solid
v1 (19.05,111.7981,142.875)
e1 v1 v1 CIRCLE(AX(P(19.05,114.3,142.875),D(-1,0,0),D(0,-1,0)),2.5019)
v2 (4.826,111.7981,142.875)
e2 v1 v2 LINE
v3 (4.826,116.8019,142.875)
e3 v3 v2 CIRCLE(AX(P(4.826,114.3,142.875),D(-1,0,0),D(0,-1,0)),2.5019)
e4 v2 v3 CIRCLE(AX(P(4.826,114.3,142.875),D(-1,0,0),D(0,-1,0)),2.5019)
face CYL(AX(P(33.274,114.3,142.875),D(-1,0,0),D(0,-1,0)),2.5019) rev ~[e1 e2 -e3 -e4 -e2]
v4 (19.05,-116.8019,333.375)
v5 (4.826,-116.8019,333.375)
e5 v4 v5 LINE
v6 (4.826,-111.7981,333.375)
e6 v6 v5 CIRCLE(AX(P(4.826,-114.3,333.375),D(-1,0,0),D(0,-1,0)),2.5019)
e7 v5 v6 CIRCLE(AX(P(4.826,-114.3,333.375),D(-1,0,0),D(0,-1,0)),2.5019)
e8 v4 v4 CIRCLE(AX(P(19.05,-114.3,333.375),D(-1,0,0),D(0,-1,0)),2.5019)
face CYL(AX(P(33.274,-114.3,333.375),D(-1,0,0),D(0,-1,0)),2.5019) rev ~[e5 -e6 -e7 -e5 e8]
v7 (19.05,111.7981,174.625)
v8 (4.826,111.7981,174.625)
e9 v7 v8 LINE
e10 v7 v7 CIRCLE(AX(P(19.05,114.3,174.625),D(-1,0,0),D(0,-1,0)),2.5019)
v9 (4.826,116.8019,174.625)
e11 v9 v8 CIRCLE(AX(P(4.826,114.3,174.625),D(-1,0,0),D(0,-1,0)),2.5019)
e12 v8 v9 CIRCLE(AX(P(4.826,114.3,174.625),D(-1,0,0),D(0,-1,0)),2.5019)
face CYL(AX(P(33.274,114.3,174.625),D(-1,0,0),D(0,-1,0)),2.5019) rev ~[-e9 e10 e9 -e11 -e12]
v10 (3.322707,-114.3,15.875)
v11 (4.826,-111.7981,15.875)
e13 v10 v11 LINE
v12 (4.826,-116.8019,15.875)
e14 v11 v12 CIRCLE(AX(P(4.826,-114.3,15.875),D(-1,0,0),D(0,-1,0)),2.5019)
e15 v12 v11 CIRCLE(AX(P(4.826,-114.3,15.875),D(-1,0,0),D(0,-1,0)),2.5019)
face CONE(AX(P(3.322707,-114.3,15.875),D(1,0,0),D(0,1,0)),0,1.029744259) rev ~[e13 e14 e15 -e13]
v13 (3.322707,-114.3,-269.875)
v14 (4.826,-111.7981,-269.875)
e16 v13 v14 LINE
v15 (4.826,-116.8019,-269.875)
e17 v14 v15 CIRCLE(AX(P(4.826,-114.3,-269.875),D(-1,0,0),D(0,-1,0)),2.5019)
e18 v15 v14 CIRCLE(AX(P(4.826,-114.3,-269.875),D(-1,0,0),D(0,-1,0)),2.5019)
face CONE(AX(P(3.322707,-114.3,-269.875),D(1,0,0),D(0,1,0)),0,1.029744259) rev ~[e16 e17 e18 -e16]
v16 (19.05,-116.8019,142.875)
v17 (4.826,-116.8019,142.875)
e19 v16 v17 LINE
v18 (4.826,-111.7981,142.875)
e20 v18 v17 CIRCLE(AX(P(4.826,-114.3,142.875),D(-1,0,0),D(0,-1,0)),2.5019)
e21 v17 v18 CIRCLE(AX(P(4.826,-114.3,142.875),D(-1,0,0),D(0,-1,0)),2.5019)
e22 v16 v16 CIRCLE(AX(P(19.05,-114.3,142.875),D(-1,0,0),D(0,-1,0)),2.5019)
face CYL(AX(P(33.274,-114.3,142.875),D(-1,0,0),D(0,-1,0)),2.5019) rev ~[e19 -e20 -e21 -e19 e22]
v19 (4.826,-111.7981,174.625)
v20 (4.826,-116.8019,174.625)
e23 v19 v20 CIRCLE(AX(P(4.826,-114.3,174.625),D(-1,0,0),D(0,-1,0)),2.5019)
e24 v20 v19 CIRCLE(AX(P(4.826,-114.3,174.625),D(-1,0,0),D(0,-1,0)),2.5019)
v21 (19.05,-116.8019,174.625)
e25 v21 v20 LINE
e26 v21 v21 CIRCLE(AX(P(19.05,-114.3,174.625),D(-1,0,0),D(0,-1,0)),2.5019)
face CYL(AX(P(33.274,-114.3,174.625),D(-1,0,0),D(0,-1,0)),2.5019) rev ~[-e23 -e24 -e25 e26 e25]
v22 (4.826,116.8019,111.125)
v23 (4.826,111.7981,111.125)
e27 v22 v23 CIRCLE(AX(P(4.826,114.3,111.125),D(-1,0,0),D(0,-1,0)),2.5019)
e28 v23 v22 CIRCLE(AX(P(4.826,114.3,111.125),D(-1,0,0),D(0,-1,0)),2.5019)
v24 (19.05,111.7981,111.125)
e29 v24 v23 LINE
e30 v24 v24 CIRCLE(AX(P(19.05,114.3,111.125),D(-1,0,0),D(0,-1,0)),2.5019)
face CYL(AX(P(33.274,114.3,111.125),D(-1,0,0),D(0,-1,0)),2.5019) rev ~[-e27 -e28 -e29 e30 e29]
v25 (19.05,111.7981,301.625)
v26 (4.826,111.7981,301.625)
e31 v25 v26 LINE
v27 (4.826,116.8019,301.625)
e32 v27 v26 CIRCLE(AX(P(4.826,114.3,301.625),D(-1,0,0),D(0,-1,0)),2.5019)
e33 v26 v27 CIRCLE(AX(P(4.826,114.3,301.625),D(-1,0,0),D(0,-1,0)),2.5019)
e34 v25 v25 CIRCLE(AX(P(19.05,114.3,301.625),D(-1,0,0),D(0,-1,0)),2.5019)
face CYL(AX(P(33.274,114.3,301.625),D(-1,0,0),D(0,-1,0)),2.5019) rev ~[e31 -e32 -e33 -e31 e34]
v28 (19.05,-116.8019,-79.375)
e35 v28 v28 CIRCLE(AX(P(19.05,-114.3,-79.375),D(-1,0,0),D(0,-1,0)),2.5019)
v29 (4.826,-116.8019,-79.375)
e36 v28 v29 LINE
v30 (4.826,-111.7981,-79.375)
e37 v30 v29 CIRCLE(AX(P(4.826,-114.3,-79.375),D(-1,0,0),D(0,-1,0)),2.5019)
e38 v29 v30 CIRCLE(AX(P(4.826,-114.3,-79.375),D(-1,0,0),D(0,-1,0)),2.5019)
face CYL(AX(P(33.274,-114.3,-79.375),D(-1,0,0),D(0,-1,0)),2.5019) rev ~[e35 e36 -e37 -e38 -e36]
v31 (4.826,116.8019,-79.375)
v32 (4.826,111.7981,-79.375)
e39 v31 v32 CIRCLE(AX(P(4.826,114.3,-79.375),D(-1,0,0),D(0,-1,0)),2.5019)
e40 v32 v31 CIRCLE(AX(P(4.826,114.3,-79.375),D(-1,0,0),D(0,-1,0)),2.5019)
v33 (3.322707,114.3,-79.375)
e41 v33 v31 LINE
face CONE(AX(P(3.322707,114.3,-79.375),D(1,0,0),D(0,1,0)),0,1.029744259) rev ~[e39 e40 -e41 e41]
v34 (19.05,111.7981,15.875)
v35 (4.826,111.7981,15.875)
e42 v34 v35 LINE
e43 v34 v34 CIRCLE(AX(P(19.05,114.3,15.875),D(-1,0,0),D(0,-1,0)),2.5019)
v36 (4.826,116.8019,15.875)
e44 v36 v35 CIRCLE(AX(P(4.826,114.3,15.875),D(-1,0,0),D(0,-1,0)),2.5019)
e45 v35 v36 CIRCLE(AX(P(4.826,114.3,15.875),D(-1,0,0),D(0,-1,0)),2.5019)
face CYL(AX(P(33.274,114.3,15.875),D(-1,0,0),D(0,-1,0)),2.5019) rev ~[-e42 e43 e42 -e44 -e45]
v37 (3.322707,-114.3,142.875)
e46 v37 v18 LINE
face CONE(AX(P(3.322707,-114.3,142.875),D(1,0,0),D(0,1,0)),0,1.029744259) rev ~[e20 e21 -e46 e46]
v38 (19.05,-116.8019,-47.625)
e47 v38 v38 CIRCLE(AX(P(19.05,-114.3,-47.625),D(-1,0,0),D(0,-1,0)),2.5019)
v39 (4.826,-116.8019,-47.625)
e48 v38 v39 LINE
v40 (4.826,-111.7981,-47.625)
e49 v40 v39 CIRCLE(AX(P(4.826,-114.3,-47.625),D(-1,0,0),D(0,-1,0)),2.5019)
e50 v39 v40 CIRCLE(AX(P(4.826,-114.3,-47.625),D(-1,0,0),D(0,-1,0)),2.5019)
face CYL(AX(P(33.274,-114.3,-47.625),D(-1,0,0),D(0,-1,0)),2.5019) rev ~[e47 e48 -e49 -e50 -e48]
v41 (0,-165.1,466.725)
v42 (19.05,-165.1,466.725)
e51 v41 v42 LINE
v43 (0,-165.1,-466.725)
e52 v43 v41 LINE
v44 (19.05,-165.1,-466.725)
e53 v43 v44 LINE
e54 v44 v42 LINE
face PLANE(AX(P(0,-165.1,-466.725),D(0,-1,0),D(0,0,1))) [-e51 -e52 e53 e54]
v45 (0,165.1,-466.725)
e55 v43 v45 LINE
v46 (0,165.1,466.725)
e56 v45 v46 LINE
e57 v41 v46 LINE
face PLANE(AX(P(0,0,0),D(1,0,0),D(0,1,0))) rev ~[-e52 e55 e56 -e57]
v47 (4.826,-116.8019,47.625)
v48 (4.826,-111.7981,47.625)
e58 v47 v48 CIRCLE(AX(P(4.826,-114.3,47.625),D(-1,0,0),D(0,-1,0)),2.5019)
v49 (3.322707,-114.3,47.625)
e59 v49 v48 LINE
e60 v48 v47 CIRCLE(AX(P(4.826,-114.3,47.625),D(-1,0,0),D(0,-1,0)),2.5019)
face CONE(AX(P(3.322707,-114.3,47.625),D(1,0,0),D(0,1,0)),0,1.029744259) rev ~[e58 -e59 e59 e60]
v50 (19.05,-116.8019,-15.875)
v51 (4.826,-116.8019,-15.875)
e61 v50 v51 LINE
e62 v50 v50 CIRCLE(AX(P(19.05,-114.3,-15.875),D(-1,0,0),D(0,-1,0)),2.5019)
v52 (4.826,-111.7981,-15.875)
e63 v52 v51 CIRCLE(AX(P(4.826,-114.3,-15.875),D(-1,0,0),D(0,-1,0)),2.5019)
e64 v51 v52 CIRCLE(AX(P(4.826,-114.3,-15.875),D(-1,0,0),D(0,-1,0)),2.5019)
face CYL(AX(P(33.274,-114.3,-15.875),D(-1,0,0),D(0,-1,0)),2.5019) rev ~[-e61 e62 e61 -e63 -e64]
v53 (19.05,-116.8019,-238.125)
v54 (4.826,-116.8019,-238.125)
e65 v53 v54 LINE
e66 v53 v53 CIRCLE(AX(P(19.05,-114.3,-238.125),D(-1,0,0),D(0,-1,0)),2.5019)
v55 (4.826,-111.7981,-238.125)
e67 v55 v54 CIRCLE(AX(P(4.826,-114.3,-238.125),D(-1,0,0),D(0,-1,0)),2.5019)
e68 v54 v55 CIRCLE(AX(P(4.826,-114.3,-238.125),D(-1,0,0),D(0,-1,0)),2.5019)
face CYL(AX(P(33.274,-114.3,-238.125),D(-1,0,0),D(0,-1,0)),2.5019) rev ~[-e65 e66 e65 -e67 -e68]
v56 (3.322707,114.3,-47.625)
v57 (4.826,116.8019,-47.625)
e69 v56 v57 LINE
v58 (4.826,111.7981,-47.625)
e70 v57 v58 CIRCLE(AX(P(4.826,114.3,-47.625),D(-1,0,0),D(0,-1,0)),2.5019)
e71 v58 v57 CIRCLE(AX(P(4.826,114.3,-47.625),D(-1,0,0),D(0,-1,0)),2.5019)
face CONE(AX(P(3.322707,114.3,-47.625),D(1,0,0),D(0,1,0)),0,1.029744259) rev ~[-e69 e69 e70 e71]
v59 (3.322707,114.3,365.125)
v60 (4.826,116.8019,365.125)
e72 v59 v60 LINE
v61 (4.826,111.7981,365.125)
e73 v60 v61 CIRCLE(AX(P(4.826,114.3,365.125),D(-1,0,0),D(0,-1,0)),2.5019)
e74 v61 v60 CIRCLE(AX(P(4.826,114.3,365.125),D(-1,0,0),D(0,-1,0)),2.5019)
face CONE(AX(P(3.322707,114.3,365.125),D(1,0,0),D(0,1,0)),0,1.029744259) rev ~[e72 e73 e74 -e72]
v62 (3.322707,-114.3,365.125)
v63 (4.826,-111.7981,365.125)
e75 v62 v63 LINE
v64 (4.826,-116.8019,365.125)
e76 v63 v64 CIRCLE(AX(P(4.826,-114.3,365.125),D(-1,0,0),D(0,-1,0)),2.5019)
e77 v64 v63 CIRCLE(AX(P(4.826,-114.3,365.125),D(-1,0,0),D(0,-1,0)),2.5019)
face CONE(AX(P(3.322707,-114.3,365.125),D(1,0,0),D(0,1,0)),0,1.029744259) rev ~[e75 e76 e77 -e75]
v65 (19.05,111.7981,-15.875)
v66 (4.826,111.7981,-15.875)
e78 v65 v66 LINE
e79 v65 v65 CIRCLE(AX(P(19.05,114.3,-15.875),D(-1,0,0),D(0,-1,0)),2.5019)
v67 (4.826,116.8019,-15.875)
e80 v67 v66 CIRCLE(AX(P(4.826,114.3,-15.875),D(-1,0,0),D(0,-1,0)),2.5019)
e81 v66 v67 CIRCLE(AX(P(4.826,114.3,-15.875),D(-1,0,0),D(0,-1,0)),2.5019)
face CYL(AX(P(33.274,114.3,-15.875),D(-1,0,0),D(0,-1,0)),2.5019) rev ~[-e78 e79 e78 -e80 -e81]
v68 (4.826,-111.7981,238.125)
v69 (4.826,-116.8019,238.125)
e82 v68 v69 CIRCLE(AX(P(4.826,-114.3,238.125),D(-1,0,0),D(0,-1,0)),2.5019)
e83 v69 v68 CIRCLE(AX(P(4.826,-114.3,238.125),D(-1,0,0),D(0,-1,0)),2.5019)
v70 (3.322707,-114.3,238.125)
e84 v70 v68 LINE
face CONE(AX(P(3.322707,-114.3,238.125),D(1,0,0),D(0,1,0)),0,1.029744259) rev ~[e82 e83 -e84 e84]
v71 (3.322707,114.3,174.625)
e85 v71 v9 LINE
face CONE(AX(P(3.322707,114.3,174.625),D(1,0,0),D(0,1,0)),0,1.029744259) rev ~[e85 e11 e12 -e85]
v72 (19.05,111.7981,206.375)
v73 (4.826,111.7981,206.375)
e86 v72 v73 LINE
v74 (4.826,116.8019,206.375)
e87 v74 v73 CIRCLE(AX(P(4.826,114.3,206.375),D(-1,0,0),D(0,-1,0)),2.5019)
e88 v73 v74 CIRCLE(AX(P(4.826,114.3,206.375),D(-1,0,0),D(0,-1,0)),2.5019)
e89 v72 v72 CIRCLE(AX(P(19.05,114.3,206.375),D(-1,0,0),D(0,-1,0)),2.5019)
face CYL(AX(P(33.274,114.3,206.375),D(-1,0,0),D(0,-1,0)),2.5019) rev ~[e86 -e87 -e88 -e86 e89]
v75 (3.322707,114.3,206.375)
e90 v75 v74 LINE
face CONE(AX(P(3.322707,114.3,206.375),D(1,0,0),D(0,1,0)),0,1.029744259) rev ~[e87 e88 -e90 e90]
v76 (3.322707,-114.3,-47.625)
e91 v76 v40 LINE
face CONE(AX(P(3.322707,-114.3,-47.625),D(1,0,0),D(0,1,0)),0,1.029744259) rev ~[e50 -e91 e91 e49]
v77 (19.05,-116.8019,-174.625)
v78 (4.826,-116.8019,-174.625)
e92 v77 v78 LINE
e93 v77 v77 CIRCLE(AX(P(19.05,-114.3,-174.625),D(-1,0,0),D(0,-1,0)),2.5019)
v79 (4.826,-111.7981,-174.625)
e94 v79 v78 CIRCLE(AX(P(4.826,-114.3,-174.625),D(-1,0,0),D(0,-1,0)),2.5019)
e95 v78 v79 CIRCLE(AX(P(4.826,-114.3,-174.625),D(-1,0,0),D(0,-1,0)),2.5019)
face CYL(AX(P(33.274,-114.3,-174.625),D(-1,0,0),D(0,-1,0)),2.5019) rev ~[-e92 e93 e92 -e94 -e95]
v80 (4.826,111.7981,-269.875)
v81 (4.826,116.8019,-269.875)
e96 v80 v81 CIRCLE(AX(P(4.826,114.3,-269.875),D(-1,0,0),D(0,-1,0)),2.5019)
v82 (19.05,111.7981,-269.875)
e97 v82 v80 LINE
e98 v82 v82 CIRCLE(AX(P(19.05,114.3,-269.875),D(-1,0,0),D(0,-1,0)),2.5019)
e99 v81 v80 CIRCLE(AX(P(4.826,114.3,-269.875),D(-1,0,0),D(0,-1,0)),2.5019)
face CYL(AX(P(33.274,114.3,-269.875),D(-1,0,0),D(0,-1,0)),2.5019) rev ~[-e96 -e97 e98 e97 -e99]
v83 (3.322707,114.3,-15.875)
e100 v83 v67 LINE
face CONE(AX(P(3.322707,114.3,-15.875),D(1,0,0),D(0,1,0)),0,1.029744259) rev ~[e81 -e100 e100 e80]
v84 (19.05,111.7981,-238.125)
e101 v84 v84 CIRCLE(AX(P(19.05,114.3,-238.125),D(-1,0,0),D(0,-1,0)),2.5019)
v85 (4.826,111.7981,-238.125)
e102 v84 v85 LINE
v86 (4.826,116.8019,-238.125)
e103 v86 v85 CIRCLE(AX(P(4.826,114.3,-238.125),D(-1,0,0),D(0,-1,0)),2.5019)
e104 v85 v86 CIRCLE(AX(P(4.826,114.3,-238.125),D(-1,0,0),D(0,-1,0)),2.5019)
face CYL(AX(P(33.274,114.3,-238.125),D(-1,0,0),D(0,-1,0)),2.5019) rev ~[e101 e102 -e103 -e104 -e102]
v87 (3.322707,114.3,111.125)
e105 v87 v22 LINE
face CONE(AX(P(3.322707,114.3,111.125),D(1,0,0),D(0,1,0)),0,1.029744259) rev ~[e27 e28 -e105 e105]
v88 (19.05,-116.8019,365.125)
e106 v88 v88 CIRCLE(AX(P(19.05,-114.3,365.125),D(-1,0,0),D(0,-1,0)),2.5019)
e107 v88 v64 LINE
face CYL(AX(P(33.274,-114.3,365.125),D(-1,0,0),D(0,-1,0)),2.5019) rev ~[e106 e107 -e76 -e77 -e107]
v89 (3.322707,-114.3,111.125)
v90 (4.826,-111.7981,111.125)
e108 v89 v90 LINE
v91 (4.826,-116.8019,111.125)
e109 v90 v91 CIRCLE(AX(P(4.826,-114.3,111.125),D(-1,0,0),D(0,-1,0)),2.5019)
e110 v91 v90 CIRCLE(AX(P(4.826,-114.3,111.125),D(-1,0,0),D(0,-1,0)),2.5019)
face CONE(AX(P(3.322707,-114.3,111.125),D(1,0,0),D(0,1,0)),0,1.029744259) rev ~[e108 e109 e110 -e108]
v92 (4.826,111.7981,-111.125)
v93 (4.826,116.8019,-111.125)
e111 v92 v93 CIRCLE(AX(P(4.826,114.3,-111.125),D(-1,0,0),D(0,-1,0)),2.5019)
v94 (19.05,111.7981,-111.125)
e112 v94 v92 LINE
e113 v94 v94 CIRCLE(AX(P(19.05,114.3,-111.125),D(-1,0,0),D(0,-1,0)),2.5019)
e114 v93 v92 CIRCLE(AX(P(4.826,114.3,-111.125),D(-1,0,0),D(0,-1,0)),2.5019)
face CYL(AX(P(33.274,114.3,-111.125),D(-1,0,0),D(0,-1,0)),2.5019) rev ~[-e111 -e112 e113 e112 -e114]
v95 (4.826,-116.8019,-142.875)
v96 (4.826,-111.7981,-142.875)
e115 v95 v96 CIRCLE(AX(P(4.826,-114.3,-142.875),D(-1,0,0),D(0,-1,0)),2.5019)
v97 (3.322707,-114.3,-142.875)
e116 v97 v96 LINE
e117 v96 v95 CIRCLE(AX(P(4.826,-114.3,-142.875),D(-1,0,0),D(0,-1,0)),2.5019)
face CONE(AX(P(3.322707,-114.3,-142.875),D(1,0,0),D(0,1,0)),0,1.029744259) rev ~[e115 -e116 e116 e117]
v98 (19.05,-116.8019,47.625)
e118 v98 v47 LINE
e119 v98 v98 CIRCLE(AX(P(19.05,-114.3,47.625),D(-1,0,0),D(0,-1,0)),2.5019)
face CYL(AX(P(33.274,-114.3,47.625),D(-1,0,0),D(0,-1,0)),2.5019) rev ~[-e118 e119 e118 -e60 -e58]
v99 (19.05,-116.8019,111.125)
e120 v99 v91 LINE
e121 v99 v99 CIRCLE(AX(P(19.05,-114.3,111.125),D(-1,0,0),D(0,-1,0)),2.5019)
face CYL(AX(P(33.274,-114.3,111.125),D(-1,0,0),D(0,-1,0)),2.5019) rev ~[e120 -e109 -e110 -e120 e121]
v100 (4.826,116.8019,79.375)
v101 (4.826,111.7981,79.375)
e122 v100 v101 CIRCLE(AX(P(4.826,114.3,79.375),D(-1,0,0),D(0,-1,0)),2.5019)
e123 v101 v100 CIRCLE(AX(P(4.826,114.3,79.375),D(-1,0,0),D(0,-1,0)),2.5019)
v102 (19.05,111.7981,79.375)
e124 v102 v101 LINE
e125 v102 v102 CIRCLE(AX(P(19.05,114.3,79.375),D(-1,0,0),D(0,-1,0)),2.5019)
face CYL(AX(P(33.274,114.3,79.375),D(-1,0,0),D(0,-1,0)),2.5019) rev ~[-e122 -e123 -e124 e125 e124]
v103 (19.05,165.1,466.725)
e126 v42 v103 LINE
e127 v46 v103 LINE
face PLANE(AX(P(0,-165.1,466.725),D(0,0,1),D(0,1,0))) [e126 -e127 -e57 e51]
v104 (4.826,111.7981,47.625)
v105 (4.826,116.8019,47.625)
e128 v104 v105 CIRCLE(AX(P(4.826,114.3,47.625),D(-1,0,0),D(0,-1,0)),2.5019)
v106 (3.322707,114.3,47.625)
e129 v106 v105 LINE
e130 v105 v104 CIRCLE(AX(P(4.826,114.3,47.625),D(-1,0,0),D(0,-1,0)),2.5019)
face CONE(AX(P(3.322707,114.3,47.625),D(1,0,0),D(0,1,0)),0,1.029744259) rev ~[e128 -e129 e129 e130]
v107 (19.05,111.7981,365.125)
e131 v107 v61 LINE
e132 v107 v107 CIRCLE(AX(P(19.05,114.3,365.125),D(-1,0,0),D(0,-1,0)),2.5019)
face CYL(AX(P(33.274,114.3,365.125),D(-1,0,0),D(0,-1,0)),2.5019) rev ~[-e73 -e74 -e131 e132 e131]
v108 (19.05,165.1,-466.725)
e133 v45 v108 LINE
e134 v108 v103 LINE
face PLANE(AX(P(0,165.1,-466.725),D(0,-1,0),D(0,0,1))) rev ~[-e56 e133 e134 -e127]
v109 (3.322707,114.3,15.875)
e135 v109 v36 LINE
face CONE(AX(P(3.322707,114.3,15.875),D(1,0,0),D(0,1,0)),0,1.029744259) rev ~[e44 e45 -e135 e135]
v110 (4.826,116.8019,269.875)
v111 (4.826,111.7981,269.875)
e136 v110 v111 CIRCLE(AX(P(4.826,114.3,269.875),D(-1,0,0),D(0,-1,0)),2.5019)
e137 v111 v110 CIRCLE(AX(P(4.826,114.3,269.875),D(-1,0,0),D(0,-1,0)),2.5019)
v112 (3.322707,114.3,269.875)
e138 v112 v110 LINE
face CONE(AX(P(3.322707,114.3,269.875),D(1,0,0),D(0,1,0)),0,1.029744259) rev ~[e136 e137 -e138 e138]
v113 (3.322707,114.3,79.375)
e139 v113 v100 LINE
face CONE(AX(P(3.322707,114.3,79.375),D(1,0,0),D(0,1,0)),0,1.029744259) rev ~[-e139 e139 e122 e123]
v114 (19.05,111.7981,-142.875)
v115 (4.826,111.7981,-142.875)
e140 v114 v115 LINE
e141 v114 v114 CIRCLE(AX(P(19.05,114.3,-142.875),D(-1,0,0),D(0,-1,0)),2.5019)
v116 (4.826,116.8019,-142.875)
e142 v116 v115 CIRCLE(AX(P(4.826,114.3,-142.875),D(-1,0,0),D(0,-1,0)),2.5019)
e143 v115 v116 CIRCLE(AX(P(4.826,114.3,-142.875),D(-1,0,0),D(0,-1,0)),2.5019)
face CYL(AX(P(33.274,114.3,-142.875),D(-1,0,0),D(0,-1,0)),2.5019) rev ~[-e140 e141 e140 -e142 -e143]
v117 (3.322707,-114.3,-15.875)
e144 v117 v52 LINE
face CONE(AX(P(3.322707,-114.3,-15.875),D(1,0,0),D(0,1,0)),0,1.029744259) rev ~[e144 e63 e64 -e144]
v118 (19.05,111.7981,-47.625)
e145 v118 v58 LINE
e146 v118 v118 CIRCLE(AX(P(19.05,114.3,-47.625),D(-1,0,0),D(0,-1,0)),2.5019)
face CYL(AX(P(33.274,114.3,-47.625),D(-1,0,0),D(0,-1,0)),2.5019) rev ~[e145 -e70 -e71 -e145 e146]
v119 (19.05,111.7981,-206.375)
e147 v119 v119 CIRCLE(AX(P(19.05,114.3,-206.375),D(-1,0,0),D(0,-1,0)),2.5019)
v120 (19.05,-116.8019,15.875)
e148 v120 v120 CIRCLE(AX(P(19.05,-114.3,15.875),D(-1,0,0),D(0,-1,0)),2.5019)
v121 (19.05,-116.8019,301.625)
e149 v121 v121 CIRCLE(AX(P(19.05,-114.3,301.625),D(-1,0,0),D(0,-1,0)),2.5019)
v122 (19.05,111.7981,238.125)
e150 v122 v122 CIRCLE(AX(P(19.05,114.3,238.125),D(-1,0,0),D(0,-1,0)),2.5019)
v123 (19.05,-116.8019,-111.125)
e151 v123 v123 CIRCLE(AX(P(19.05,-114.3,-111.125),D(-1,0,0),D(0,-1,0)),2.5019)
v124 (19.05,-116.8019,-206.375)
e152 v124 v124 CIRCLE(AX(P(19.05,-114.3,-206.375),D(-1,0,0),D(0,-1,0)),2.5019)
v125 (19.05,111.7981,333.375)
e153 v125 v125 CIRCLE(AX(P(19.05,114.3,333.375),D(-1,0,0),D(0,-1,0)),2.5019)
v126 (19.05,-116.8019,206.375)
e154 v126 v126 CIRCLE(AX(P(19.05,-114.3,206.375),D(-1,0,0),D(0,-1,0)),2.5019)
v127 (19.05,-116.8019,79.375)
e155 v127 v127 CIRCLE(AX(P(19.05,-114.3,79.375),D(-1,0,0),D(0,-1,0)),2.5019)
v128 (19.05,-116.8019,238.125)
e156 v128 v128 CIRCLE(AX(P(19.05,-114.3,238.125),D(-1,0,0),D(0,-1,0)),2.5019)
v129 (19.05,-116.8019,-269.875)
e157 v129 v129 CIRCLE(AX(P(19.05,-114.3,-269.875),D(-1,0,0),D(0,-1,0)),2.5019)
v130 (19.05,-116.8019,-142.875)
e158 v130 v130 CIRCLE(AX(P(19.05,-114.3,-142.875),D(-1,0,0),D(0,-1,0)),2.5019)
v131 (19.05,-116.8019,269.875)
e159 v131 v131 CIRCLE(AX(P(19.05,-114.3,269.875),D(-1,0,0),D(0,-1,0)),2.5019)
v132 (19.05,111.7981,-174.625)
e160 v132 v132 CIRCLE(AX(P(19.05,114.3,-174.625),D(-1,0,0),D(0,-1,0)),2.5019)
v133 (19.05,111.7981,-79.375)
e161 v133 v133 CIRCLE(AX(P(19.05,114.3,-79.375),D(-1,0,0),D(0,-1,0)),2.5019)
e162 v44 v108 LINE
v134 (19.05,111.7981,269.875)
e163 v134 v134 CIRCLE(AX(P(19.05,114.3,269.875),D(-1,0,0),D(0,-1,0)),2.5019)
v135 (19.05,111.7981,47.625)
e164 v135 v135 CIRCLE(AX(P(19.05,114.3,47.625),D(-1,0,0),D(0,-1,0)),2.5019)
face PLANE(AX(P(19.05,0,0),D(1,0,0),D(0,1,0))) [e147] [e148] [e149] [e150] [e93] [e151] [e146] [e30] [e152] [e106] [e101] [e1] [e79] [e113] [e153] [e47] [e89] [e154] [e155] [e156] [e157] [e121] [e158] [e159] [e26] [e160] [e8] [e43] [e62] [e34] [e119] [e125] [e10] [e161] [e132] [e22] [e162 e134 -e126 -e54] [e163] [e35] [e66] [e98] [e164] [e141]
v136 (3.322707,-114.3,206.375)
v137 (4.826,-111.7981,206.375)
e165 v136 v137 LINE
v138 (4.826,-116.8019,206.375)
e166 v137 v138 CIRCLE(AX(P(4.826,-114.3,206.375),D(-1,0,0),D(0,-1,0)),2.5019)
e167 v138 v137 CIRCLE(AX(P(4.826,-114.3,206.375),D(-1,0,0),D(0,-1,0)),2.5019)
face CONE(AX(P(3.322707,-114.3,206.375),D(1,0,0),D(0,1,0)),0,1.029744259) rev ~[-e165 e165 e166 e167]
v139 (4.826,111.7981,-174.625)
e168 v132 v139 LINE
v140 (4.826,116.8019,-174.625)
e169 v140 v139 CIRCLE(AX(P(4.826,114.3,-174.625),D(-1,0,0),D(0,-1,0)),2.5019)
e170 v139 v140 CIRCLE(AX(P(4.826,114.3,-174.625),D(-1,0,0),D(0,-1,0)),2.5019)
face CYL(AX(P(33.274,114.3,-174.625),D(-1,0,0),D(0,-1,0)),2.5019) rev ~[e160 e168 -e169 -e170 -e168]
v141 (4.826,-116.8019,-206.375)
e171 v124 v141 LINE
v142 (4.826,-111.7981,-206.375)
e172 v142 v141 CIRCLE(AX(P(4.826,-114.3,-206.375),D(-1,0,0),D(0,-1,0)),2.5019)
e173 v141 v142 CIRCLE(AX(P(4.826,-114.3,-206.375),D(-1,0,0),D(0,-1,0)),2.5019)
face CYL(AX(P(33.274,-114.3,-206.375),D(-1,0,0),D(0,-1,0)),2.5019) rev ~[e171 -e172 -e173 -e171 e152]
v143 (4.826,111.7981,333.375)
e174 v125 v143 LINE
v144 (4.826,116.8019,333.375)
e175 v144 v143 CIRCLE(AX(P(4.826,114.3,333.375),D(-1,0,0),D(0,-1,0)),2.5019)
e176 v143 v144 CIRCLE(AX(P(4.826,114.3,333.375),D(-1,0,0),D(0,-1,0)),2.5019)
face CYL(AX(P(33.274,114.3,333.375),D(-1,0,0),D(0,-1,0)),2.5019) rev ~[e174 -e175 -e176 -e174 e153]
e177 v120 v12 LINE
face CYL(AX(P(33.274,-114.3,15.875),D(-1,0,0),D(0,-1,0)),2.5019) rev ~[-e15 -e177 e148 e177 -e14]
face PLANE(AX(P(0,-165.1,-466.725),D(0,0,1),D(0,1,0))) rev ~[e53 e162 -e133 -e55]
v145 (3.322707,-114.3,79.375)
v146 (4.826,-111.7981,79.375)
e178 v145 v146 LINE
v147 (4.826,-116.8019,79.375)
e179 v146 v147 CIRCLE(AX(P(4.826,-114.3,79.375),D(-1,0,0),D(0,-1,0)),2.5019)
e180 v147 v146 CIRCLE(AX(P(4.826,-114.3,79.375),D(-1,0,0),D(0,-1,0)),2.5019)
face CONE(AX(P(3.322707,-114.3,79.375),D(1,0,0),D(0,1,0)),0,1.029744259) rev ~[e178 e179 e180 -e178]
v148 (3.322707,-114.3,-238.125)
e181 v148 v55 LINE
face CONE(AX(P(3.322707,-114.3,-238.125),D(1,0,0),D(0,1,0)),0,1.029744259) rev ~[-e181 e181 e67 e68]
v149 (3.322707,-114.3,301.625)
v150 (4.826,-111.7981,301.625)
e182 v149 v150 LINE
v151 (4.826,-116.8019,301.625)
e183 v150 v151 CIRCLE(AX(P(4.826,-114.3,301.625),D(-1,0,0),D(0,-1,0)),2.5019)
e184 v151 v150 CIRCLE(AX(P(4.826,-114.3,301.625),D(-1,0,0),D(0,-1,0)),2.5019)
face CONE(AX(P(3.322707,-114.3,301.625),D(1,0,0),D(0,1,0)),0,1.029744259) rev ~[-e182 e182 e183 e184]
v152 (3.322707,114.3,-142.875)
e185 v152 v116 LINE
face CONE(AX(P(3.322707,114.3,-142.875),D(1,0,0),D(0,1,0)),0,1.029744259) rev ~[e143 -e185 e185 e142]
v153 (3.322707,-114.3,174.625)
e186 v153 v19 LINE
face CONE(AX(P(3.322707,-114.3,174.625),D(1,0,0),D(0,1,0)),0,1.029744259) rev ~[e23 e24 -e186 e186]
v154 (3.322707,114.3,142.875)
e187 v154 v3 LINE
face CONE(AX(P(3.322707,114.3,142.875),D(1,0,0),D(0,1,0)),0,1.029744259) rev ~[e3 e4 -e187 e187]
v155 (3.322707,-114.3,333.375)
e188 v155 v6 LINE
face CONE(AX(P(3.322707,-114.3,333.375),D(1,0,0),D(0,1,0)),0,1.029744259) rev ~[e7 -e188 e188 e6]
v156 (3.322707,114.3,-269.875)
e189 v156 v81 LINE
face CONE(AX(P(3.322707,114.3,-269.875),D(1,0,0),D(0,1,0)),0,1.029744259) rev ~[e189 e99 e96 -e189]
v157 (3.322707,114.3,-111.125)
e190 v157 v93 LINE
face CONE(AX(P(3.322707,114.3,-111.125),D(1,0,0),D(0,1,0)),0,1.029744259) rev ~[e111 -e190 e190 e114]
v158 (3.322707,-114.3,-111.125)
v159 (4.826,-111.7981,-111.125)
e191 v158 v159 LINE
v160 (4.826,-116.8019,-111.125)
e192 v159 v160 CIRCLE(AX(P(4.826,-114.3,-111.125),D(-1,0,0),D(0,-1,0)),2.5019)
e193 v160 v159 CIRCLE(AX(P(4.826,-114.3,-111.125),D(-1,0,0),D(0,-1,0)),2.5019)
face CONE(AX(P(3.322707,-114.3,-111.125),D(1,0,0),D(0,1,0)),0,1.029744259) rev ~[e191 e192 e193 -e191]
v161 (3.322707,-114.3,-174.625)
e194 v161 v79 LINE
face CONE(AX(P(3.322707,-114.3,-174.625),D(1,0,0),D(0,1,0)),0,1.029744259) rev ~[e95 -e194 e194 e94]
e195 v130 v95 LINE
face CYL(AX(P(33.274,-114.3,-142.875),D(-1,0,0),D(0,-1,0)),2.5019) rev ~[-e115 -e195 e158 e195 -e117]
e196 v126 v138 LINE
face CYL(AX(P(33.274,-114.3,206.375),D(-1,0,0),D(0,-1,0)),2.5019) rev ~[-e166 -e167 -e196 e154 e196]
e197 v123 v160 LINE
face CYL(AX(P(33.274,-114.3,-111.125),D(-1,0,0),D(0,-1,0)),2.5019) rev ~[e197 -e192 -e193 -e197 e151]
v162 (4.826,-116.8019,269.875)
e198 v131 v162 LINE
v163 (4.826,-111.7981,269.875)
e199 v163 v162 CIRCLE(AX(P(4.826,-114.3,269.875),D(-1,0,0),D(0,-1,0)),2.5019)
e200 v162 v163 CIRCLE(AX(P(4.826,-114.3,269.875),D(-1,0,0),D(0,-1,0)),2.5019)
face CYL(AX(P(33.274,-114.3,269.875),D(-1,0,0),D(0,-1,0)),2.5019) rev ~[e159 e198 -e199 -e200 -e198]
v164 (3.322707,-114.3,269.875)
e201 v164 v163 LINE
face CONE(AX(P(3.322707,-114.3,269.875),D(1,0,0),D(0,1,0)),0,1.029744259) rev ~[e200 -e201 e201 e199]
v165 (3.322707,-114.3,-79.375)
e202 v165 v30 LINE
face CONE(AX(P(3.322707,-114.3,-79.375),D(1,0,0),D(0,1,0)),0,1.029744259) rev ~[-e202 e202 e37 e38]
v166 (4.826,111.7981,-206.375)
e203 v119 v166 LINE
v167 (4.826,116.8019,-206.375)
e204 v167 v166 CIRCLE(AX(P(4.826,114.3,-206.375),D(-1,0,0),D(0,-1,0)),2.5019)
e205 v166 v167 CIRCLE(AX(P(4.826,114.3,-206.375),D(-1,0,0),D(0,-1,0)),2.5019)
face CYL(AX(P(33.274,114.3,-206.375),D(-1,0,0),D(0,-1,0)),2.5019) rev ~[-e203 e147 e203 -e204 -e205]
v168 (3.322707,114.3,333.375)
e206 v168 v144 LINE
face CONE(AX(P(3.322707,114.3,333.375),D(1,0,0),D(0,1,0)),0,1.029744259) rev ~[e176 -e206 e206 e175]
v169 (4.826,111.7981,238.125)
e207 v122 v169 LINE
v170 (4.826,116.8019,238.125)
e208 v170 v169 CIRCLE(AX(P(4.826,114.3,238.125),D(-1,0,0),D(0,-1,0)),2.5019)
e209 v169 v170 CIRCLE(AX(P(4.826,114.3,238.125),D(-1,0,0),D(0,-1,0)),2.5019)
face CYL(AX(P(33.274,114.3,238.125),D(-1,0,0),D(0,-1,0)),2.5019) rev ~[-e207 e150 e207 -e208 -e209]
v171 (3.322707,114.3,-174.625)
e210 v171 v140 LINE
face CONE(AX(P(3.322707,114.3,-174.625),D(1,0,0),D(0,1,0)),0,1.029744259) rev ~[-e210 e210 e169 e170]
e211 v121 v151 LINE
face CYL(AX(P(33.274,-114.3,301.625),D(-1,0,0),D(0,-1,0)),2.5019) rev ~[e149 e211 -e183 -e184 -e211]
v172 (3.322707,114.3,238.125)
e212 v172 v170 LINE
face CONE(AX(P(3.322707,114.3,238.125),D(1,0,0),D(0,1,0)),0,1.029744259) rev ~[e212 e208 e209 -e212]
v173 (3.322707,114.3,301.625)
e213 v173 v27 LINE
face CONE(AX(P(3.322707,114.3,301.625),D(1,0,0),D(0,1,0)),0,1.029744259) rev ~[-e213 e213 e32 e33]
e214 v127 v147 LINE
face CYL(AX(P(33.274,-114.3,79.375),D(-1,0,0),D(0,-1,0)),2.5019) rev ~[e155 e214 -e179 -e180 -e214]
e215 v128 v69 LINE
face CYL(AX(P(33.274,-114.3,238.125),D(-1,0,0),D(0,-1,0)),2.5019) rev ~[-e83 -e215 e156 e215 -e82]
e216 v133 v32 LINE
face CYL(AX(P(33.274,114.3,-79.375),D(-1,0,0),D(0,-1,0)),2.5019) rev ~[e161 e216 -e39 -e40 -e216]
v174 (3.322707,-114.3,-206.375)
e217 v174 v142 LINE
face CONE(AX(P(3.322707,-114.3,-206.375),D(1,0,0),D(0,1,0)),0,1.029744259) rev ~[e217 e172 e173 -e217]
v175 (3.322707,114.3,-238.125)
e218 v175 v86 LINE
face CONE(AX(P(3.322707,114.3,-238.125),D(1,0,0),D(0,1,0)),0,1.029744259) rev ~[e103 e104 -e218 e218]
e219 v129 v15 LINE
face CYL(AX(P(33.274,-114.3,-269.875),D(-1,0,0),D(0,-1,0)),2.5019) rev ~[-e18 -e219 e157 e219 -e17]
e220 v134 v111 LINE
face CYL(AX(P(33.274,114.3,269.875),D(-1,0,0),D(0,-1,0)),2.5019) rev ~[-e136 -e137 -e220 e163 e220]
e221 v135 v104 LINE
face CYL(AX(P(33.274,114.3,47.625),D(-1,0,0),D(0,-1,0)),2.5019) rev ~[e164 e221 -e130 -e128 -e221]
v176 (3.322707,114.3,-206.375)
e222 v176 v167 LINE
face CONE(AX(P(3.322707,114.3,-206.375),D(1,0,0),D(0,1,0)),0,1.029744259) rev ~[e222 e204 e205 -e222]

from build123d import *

# Parameters (mm, degrees)
F0_W     = 330.2
F0_H     = 933.45
F1_DEPTH = 19.05
F3_D     = 5.0038
F3_DEPTH = 14.224
F3_TIP   = 1.5032931827


with BuildPart() as f1:
    # F0 (on Right) → F1 (new body)
    with BuildSketch(Plane.YZ):
        Rectangle(F0_W, F0_H)
    extrude(amount=F1_DEPTH)

    # F3
    with Locations(Plane.YZ.offset(19.05)):
        with Locations((-114.3, 365.125), (-114.3, 333.375), (-114.3, 301.625), (-114.3, 269.875), (-114.3, 238.125), (-114.3, 206.375), (-114.3, 174.625), (-114.3, 142.875), (-114.3, 111.125), (-114.3, 79.375), (-114.3, 47.625), (-114.3, 15.875), (-114.3, -15.875), (-114.3, -79.375), (-114.3, -47.625), (-114.3, -111.125), (-114.3, -174.625), (-114.3, -142.875), (-114.3, -206.375), (-114.3, -238.125), (-114.3, -269.875), (114.3, -269.875), (114.3, -238.125), (114.3, -206.375), (114.3, -174.625), (114.3, -142.875), (114.3, -111.125), (114.3, -79.375), (114.3, -47.625), (114.3, -15.875), (114.3, 15.875), (114.3, 47.625), (114.3, 79.375), (114.3, 111.125), (114.3, 142.875), (114.3, 174.625), (114.3, 206.375), (114.3, 238.125), (114.3, 269.875), (114.3, 301.625), (114.3, 333.375), (114.3, 365.125), (114.3, 111.125)):
            Hole(F3_D / 2, depth=F3_DEPTH)
            with Locations((0, 0, -(F3_DEPTH + F3_TIP / 2))):  # 118° drill point
                Cone(0, F3_D / 2, F3_TIP, mode=Mode.SUBTRACT)


solid = f1.part
